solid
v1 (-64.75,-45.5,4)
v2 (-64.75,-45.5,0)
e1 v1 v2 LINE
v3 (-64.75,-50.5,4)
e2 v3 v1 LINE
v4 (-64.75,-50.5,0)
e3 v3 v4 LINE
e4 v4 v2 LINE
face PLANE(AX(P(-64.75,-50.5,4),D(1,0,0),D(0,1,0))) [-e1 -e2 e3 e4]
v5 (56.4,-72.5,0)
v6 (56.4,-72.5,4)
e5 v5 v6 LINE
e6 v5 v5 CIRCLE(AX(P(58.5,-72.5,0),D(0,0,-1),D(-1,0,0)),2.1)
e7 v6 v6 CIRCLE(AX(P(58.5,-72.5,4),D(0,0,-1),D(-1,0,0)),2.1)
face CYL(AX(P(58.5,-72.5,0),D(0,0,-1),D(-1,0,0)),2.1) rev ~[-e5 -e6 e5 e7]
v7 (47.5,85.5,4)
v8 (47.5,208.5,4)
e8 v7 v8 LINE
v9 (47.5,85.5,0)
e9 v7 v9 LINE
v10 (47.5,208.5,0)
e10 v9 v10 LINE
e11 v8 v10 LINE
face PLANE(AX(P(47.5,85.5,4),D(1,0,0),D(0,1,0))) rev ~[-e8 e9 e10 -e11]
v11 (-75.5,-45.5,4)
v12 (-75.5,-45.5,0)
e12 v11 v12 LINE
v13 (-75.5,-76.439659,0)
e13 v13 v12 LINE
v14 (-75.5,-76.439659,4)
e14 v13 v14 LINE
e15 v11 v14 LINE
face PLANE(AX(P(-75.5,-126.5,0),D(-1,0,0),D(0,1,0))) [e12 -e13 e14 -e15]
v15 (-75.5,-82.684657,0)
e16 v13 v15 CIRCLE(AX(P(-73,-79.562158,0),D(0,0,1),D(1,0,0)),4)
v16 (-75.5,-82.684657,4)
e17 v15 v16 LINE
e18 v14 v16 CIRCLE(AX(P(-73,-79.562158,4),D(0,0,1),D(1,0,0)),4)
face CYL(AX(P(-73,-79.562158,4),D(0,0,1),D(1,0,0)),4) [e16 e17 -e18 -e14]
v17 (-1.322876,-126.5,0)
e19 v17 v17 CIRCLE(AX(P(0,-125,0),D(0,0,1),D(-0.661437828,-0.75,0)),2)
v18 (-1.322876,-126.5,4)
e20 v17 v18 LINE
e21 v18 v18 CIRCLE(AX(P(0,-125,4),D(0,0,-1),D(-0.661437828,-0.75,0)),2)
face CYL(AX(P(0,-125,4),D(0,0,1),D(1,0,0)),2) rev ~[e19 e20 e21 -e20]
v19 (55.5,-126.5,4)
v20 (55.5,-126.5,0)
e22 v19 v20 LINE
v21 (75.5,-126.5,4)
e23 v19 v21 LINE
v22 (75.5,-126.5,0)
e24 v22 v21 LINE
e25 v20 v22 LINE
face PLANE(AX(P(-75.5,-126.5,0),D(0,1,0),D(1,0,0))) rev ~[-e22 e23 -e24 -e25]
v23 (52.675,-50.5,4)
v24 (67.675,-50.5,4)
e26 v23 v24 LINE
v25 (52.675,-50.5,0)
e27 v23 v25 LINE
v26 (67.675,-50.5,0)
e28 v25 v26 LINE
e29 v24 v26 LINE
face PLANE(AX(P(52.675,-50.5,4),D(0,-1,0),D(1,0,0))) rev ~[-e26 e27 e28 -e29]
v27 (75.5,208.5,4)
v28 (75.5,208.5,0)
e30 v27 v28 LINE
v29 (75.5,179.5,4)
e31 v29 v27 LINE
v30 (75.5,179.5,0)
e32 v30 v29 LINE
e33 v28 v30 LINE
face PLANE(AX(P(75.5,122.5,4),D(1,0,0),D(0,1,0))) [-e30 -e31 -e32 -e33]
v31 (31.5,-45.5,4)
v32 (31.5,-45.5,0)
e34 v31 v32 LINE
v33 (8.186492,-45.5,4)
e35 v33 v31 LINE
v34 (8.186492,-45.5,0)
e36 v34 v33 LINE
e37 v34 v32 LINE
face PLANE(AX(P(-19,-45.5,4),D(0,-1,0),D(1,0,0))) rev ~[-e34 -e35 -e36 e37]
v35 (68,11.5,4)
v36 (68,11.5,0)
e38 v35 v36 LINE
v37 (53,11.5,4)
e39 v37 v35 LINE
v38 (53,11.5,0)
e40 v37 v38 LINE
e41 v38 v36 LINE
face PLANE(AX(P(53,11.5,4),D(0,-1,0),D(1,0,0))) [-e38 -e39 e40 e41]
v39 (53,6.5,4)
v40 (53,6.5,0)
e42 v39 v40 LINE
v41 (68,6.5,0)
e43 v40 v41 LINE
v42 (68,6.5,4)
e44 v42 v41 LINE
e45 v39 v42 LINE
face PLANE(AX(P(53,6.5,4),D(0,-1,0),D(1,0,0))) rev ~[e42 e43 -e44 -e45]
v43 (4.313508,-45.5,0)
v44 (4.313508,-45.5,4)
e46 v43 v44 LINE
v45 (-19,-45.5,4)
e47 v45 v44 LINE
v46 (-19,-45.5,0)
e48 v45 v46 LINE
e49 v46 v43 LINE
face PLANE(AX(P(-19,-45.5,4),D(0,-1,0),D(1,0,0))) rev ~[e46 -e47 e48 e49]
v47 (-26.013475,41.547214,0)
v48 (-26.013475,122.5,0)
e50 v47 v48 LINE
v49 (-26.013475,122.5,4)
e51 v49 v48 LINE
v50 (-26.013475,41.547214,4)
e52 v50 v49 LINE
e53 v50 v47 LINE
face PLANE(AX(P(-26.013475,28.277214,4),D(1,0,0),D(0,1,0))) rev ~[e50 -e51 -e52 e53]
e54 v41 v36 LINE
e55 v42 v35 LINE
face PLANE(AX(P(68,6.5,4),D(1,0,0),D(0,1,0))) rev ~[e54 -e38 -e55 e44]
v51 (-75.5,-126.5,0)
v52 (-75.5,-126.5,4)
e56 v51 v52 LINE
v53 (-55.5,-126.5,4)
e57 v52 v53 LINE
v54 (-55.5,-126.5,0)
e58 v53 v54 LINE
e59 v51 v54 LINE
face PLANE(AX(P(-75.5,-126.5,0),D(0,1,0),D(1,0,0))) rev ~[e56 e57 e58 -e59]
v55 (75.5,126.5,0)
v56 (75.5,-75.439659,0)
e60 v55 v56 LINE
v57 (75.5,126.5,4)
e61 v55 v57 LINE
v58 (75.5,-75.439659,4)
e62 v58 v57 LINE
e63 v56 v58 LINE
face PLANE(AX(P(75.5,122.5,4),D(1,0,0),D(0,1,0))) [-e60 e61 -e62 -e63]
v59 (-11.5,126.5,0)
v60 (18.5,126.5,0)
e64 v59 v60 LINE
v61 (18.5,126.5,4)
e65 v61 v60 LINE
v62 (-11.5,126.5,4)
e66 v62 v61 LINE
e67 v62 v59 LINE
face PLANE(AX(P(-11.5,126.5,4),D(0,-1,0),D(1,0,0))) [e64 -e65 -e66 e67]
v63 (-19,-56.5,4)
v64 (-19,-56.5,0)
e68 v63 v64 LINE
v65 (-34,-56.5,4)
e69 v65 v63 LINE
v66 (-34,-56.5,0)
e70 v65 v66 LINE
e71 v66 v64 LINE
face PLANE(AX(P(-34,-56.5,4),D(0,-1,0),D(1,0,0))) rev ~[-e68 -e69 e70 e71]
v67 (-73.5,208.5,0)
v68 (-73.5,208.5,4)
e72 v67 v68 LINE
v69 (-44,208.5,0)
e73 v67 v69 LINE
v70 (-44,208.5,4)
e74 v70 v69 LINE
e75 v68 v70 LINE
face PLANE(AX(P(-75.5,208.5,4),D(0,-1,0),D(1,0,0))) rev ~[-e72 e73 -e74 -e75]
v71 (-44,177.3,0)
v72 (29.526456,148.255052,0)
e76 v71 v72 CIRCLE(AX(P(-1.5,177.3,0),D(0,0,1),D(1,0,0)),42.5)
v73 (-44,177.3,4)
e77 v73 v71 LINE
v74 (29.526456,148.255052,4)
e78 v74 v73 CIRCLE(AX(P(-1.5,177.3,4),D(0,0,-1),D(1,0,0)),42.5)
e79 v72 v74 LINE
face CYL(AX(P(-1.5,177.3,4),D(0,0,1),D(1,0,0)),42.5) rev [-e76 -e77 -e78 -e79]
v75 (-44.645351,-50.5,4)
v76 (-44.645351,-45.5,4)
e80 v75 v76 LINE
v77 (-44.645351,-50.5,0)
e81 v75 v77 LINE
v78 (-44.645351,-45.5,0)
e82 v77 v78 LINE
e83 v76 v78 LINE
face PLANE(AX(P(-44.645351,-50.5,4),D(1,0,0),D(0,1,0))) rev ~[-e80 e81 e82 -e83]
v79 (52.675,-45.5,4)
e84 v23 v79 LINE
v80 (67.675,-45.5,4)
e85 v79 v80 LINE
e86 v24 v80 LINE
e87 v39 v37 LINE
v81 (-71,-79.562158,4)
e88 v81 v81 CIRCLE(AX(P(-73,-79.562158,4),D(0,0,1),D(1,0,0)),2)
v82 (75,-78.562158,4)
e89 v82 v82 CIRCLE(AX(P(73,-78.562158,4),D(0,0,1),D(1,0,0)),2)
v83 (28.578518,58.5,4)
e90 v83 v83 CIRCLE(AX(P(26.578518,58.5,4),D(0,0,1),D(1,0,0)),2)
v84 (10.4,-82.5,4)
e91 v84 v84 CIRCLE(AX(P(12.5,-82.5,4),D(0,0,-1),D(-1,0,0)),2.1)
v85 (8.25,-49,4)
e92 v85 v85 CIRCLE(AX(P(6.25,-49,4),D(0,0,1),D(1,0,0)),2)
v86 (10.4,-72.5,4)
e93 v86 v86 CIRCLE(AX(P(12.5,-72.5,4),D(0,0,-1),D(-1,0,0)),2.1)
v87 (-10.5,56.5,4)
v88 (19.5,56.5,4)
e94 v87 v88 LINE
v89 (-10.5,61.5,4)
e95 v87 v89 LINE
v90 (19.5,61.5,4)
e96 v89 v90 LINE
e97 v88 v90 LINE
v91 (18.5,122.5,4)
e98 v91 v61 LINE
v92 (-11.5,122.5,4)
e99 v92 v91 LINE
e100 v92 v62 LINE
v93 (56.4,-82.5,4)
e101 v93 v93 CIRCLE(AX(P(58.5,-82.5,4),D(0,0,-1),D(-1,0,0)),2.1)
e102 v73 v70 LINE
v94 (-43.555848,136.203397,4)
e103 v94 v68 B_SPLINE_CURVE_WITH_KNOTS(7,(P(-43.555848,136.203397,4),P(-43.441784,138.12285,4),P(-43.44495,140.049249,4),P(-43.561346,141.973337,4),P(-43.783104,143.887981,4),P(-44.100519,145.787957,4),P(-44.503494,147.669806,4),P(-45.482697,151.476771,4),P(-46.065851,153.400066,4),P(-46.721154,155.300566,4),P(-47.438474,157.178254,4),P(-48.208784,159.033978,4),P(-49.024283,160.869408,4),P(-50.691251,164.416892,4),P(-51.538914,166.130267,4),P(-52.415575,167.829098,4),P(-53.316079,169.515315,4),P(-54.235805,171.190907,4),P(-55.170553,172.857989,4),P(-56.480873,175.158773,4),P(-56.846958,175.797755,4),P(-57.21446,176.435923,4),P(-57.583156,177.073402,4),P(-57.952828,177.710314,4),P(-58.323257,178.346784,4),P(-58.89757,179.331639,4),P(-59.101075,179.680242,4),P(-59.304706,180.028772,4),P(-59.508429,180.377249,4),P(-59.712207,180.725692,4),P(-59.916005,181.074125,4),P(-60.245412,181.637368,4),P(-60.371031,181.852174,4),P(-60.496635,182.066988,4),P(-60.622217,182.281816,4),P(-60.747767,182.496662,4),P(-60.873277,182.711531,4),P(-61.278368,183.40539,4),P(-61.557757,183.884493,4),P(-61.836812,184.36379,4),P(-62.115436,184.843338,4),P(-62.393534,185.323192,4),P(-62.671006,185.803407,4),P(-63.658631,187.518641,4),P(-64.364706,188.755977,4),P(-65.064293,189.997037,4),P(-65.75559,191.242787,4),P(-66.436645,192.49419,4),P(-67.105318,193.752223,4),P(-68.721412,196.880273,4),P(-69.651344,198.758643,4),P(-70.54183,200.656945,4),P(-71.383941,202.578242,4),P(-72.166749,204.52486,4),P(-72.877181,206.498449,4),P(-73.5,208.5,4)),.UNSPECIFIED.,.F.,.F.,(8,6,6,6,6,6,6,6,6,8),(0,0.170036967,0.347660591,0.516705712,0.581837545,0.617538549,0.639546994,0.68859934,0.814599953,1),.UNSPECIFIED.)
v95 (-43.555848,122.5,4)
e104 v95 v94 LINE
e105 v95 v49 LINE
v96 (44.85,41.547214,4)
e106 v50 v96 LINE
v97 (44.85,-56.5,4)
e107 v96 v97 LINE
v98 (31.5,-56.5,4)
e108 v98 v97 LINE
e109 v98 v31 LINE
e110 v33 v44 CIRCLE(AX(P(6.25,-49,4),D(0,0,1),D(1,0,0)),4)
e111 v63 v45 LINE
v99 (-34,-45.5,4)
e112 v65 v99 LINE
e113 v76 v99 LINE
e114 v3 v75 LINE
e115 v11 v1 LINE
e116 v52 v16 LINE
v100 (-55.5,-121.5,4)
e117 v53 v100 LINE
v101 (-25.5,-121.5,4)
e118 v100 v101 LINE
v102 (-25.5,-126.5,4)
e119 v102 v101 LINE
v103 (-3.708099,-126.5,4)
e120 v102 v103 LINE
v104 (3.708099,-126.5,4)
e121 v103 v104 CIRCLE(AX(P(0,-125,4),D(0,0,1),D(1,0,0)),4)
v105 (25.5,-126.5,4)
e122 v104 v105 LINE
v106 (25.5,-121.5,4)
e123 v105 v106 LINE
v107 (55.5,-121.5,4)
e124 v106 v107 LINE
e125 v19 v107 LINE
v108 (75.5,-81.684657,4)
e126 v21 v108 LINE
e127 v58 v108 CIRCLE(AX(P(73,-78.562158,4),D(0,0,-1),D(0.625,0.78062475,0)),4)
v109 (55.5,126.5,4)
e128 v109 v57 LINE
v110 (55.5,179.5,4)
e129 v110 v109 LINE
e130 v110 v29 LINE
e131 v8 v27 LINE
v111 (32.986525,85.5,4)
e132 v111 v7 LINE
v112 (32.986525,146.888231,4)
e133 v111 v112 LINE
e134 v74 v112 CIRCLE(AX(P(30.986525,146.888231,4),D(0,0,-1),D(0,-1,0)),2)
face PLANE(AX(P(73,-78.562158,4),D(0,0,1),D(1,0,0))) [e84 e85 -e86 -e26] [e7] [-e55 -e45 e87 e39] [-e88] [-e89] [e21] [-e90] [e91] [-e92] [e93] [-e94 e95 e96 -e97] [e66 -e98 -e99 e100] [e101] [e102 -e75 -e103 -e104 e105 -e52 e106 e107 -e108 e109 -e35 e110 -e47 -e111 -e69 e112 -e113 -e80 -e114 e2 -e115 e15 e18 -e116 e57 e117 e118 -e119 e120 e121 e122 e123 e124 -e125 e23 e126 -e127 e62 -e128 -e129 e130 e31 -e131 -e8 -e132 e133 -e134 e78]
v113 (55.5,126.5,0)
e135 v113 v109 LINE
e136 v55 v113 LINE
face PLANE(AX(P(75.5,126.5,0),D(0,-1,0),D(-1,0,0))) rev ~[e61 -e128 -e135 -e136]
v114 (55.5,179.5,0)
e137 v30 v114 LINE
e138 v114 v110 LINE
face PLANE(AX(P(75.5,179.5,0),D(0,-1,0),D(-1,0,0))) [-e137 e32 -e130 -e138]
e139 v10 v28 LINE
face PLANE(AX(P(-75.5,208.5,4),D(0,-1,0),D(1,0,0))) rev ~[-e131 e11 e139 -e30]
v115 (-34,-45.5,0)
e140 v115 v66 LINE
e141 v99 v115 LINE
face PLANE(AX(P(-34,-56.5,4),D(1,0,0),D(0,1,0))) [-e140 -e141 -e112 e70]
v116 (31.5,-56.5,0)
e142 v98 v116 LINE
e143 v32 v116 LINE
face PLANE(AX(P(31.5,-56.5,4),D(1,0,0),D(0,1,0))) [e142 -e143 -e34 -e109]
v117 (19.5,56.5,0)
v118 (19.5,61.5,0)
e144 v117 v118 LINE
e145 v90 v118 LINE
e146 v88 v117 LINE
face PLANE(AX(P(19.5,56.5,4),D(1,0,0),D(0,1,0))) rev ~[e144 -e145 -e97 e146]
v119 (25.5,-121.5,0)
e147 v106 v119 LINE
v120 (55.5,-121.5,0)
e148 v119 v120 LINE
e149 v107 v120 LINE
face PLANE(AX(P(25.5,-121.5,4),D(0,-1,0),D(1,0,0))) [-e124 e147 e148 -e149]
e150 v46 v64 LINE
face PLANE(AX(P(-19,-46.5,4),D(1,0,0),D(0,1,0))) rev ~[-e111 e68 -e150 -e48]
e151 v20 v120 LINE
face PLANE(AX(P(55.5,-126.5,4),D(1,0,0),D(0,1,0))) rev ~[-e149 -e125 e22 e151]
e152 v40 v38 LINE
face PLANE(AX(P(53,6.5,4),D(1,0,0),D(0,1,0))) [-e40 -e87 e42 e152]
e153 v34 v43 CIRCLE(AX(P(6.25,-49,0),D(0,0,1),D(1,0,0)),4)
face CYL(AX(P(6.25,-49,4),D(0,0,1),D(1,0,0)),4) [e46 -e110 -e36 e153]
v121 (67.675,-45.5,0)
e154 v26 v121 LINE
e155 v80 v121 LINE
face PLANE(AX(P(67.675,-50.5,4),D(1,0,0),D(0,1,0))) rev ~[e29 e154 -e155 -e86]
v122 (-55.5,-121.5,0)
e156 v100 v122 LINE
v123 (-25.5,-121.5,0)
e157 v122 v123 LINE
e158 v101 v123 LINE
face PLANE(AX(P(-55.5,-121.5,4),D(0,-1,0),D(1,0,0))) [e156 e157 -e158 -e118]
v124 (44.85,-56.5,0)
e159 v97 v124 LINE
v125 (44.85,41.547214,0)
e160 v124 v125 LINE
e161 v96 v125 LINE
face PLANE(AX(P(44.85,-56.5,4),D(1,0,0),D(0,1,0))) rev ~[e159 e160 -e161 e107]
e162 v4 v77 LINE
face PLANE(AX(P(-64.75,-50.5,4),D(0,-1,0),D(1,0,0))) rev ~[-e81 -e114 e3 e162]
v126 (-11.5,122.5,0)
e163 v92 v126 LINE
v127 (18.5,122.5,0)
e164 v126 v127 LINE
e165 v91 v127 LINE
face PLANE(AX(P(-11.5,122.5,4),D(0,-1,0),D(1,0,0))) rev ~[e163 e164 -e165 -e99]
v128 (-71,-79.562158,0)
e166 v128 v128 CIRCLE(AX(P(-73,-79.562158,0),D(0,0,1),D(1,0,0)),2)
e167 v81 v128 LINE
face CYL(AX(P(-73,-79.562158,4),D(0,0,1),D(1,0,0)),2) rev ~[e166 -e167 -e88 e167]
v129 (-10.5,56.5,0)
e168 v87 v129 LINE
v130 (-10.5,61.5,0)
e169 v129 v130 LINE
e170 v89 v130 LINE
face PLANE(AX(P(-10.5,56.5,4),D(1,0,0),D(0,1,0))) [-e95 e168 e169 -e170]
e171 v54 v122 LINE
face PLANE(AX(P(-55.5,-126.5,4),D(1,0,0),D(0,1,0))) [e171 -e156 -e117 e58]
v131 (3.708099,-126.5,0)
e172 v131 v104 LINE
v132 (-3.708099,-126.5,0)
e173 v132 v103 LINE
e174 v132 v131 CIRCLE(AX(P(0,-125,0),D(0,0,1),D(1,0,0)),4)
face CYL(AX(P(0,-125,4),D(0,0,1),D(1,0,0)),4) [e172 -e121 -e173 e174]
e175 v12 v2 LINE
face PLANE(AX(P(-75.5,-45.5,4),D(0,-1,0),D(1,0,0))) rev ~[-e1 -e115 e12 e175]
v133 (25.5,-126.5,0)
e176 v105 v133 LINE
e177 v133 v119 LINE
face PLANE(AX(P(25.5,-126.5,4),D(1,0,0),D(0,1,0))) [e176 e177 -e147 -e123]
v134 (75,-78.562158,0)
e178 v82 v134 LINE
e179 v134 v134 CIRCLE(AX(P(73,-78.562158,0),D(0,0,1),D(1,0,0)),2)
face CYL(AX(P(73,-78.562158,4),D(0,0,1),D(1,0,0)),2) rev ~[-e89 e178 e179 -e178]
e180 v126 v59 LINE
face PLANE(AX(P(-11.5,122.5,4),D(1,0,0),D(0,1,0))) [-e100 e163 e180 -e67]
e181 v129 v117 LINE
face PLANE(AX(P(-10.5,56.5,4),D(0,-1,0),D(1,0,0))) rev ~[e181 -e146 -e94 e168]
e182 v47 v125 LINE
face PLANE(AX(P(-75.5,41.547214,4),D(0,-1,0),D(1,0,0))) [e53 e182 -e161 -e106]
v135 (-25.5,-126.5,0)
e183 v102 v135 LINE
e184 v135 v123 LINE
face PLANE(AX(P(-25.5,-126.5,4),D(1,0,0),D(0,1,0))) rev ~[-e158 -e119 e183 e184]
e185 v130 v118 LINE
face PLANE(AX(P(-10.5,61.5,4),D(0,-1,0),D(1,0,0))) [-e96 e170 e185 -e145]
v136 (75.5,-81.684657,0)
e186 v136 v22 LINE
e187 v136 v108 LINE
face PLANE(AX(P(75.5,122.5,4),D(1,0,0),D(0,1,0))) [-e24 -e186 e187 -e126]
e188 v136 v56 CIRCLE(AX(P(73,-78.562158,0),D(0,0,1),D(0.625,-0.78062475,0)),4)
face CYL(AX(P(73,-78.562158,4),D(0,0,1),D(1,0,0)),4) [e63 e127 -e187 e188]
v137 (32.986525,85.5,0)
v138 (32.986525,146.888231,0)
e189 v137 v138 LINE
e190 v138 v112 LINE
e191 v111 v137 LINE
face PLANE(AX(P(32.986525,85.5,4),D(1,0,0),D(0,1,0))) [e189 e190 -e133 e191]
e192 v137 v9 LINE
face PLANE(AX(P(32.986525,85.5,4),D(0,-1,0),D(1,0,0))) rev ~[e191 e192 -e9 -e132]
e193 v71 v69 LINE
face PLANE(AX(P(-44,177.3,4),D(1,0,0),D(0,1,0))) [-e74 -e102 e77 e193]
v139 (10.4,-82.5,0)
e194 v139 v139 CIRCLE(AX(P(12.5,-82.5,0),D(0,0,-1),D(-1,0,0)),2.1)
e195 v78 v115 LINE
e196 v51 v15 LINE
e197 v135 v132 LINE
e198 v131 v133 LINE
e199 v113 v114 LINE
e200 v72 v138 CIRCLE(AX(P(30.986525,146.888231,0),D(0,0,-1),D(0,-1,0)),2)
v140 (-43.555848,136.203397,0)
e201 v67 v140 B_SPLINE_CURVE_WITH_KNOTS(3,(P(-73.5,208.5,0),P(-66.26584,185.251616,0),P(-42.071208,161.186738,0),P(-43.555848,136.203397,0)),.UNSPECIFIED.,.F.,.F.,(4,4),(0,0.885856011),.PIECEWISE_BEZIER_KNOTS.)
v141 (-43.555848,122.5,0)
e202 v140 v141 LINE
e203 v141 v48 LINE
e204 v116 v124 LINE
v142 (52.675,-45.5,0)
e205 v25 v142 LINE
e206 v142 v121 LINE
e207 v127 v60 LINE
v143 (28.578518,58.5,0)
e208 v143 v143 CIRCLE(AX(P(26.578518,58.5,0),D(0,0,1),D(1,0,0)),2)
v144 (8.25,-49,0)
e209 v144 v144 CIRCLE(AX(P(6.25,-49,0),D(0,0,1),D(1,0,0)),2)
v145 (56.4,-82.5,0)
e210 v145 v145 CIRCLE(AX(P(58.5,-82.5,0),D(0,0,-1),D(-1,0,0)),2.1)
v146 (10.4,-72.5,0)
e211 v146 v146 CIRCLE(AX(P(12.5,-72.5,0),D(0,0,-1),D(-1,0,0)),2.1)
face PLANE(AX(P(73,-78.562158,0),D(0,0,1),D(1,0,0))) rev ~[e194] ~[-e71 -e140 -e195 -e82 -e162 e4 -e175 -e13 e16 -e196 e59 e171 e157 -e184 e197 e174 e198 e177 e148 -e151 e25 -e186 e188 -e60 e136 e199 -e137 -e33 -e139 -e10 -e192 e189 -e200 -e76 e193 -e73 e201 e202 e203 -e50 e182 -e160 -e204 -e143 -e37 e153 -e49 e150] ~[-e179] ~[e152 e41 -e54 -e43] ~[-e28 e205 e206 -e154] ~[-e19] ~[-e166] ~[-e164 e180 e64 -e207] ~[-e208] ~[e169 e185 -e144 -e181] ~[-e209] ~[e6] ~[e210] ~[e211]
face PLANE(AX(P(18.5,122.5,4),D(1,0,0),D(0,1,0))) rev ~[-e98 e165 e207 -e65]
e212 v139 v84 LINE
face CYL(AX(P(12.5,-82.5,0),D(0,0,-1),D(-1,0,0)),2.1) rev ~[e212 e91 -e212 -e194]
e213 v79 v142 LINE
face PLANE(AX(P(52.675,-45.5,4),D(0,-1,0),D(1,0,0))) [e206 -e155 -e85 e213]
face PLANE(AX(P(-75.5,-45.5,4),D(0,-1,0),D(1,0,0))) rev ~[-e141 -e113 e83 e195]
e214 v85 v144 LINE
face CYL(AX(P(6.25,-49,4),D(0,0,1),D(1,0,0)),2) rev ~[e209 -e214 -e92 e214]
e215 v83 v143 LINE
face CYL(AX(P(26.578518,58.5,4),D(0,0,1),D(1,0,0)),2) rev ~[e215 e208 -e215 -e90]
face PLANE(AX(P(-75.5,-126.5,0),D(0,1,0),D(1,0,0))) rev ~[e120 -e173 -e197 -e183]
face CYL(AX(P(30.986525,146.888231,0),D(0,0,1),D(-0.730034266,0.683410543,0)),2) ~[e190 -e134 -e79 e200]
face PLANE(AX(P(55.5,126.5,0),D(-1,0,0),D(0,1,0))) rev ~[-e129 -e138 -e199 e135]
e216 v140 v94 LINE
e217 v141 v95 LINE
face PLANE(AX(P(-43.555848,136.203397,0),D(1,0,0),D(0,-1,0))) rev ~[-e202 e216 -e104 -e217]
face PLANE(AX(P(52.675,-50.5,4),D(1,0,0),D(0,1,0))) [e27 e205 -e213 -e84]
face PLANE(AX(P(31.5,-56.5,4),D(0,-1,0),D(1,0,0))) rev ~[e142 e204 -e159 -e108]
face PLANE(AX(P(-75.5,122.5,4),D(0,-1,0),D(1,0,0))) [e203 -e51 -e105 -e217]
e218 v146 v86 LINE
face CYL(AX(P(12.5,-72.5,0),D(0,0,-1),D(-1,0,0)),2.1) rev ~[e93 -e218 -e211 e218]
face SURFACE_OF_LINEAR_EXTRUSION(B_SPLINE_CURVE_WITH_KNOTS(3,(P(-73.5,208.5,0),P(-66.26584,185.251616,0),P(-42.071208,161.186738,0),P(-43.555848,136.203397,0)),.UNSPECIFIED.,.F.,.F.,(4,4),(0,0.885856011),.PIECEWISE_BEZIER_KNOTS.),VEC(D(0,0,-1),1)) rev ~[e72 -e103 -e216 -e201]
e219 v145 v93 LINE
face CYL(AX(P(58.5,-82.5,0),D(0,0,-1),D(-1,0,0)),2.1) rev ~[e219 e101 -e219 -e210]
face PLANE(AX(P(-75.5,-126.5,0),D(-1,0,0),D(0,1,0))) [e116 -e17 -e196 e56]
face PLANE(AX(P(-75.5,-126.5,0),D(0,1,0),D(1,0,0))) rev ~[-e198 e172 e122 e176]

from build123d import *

# Parameters (mm, degrees)
SKETCH1_W           = 151
SKETCH1_H           = 254
BOSS_EXTRUDE1_DEPTH = 4
SKETCH2_W           = 49.486524855
SKETCH2_H           = 99.222786378
CUT_EXTRUDE1_DEPTH  = 5
SKETCH4_W           = 120.35
SKETCH4_H           = 88.04721362
CUT_EXTRUDE3_DEPTH  = 5
SKETCH6_R           = 2
CUT_EXTRUDE5_DEPTH  = 10
SKETCH12_W          = 15
SKETCH12_H          = 10
SKETCH12_W_2        = 13.35
CUT_EXTRUDE8_DEPTH  = 10
SKETCH13_R          = 2
CUT_EXTRUDE9_DEPTH  = 5
SKETCH14_R          = 4
SKETCH14_R_2        = 2
BOSS_EXTRUDE2_DEPTH = 4
SKETCH15_R          = 2.1
CUT_EXTRUDE10_DEPTH = 10
SKETCH18_R          = 2
CUT_EXTRUDE12_DEPTH = 5
SKETCH19_R          = 4
SKETCH19_R_2        = 2
BOSS_EXTRUDE3_DEPTH = 4
SKETCH25_W          = 59.513475145
SKETCH25_H          = 4
CUT_EXTRUDE16_DEPTH = 10
SKETCH26_W          = 151
SKETCH26_H          = 86
BOSS_EXTRUDE4_DEPTH = 4
SKETCH27_W          = 42
SKETCH27_H          = 62
BOSS_EXTRUDE5_DEPTH = 4
CUT_EXTRUDE17_DEPTH = 5
SKETCH29_W          = 20
SKETCH29_H          = 53
CUT_EXTRUDE18_DEPTH = 10
SKETCH30_W          = 14.513475145
SKETCH30_H          = 123
CUT_EXTRUDE19_DEPTH = 10
CUT_EXTRUDE20_DEPTH = 10
FILLET1_R           = 2
SKETCH33_W          = 30
SKETCH33_H          = 4
CUT_EXTRUDE22_DEPTH = 10
SKETCH34_W          = 30
SKETCH34_H          = 5
SKETCH34_W_2        = 15
CUT_EXTRUDE23_DEPTH = 10
SKETCH35_W          = 50.5
SKETCH35_H          = 0.999999998
SKETCH35_W_2        = 41.5
BOSS_EXTRUDE6_DEPTH = 4
SKETCH36_W          = 20.104648663
SKETCH36_H          = 5
CUT_EXTRUDE24_DEPTH = 5
SKETCH37_R          = 2
CUT_EXTRUDE25_DEPTH = 5
SKETCH38_R          = 4
SKETCH38_R_2        = 2
BOSS_EXTRUDE7_DEPTH = 4
SKETCH39_R          = 2
CUT_EXTRUDE26_DEPTH = 10


with BuildPart() as part:
    # Sketch1 → Boss-Extrude1 (new body)
    with BuildSketch(Plane.XY):
        with Locations((0, 0.5)):
            Rectangle(SKETCH1_W, SKETCH1_H)
    extrude(amount=BOSS_EXTRUDE1_DEPTH)

    # Sketch2 → Cut-Extrude1 (cut)
    with BuildSketch(Plane.XY.offset(4)):
        with Locations((-50.756737573, 77.888606811)):
            Rectangle(SKETCH2_W, SKETCH2_H)
    extrude(amount=-CUT_EXTRUDE1_DEPTH, mode=Mode.SUBTRACT)

    # Sketch4 → Cut-Extrude3 (cut)
    with BuildSketch(Plane.XY.offset(4)):
        with Locations((-15.325, -2.476393188)):
            Rectangle(SKETCH4_W, SKETCH4_H)
    extrude(amount=-CUT_EXTRUDE3_DEPTH, mode=Mode.SUBTRACT)

    # Sketch6 → Cut-Extrude5 (cut)
    with BuildSketch(Plane.XY.offset(4)):
        with Locations((0, -125)):
            Circle(SKETCH6_R)
    extrude(amount=-CUT_EXTRUDE5_DEPTH, mode=Mode.SUBTRACT)

    # Sketch12 → Cut-Extrude8 (cut)
    with BuildSketch(Plane.XY.offset(4)):
        with Locations((-26.5, -51.499999998)):
            Rectangle(SKETCH12_W, SKETCH12_H)
        with Locations((38.175, -51.499999998)):
            Rectangle(SKETCH12_W_2, SKETCH12_H)
    extrude(amount=-CUT_EXTRUDE8_DEPTH, mode=Mode.SUBTRACT)

    # Sketch13 → Cut-Extrude9 (cut)
    with BuildSketch(Plane.XY.offset(4)):
        with Locations((6.25, -49)):
            Circle(SKETCH13_R)
    extrude(amount=-CUT_EXTRUDE9_DEPTH, mode=Mode.SUBTRACT)

    # Sketch14 → Boss-Extrude2 (add)
    # profile 1 of 2: a face of its own
    with BuildSketch(Plane.XY.offset(4)):
        with Locations((6.25, -49)):
            Circle(SKETCH14_R)
        with Locations((6.25, -49)):
            Circle(SKETCH14_R_2, mode=Mode.SUBTRACT)
    # profile 2 of 2: a face of its own
    with BuildSketch(Plane.XY.offset(4)):
        with Locations((0, -125)):
            Circle(SKETCH14_R)
        with Locations((0, -125)):
            Circle(SKETCH14_R_2, mode=Mode.SUBTRACT)
    extrude(amount=-BOSS_EXTRUDE2_DEPTH)

    # Sketch15 → Cut-Extrude10 (cut)
    with BuildSketch(Plane(origin=(0, 0, 0), x_dir=(-1, 0, 0), z_dir=(0, 0, -1))):
        with Locations((-58.5, -72.5)):
            Circle(SKETCH15_R)
        with Locations((-58.5, -82.5)):
            Circle(SKETCH15_R)
        with Locations((-12.5, -72.5)):
            Circle(SKETCH15_R)
        with Locations((-12.5, -82.5)):
            Circle(SKETCH15_R)
    extrude(amount=-CUT_EXTRUDE10_DEPTH, mode=Mode.SUBTRACT)

    # Sketch18 → Cut-Extrude12 (cut)
    with BuildSketch(Plane.XY.offset(4)):
        with Locations((-73, -79.562158061)):
            Circle(SKETCH18_R)
    extrude(amount=-CUT_EXTRUDE12_DEPTH, mode=Mode.SUBTRACT)

    # Sketch19 → Boss-Extrude3 (add)
    with BuildSketch(Plane.XY.offset(4)):
        with Locations((-73, -79.562158061)):
            Circle(SKETCH19_R)
        with Locations((-73, -79.562158061)):
            Circle(SKETCH19_R_2, mode=Mode.SUBTRACT)
    extrude(amount=-BOSS_EXTRUDE3_DEPTH)

    # Sketch25 → Cut-Extrude16 (cut)
    with BuildSketch(Plane.XY.offset(4)):
        with Locations((3.743262427, 124.5)):
            Rectangle(SKETCH25_W, SKETCH25_H)
    extrude(amount=-CUT_EXTRUDE16_DEPTH, mode=Mode.SUBTRACT)

    # Sketch26 → Boss-Extrude4 (add)
    with BuildSketch(Plane.XY.offset(4)):
        with Locations((0, 165.5)):
            Rectangle(SKETCH26_W, SKETCH26_H)
    extrude(amount=-BOSS_EXTRUDE4_DEPTH)

    # Sketch27 → Boss-Extrude5 (add)
    with BuildSketch(Plane.XY.offset(4)):
        with Locations((54.5, 91.5)):
            Rectangle(SKETCH27_W, SKETCH27_H)
    extrude(amount=-BOSS_EXTRUDE5_DEPTH)

    # Sketch28 → Cut-Extrude17 (cut)
    with BuildSketch(Plane(origin=(0, 0, 0), x_dir=(-1, 0, 0), z_dir=(0, 0, -1))):
        with BuildLine():
            Line((43.55584756, 136.203397333), (43.55584756, 122.5))
            Line((43.55584756, 122.5), (75.5, 122.5))
            Line((75.5, 122.5), (75.5, 208.5))
            Line((75.5, 208.5), (73.5, 208.5))
            add(Edge.make_bspline(
                [(73.5, 208.5), (66.265840294, 185.251616354), (42.071208011, 161.186737721), (43.55584756, 136.203397333)],
                knots=[0, 0, 0, 0, 0.885856011, 0.885856011, 0.885856011, 0.885856011], degree=3))
        make_face()
    extrude(amount=-CUT_EXTRUDE17_DEPTH, mode=Mode.SUBTRACT)

    # Sketch29 → Cut-Extrude18 (cut)
    with BuildSketch(Plane(origin=(0, 0, 0), x_dir=(-1, 0, 0), z_dir=(0, 0, -1))):
        with Locations((-65.5, 153)):
            Rectangle(SKETCH29_W, SKETCH29_H)
    extrude(amount=-CUT_EXTRUDE18_DEPTH, mode=Mode.SUBTRACT)

    # Sketch30 → Cut-Extrude19 (cut)
    with BuildSketch(Plane.XY.offset(4)):
        with Locations((40.243262427, 147)):
            Rectangle(SKETCH30_W, SKETCH30_H)
    extrude(amount=-CUT_EXTRUDE19_DEPTH, mode=Mode.SUBTRACT)

    # Sketch31 → Cut-Extrude20 (cut)
    with BuildSketch(Plane.XY.offset(4)):
        with BuildLine():
            Line((-44, 177.3), (-44, 208.5))
            Line((-44, 208.5), (41, 208.5))
            Line((41, 208.5), (41, 177.3))
            ThreePointArc((41, 177.3), (-1.5, 134.8), (-44, 177.3))
        make_face()
    extrude(amount=-CUT_EXTRUDE20_DEPTH, mode=Mode.SUBTRACT)

    # Fillet1
    fillet1_edges = [part.edges().sort_by_distance(p)[0] for p in [
        (32.986524855, 152.461932373, 2),
    ]]
    fillet(fillet1_edges, radius=FILLET1_R)

    # Sketch33 → Cut-Extrude22 (cut)
    with BuildSketch(Plane.XY.offset(4)):
        with Locations((3.5, 124.5)):
            Rectangle(SKETCH33_W, SKETCH33_H)
    extrude(amount=-CUT_EXTRUDE22_DEPTH, mode=Mode.SUBTRACT)

    # Sketch34 → Cut-Extrude23 (cut)
    with BuildSketch(Plane.XY.offset(4)):
        with Locations((40.5, -124)):
            Rectangle(SKETCH34_W, SKETCH34_H)
        with Locations((-40.5, -124)):
            Rectangle(SKETCH34_W, SKETCH34_H)
        with Locations((60.175, -48)):
            Rectangle(SKETCH34_W_2, SKETCH34_H)
        with Locations((60.5, 9)):
            Rectangle(SKETCH34_W_2, SKETCH34_H)
        with Locations((4.5, 59)):
            Rectangle(SKETCH34_W, SKETCH34_H)
    extrude(amount=-CUT_EXTRUDE23_DEPTH, mode=Mode.SUBTRACT)

    # Sketch35 → Boss-Extrude6 (add)
    with BuildSketch(Plane.XY.offset(4)):
        with Locations((6.25, -45.999999999)):
            Rectangle(SKETCH35_W, SKETCH35_H)
        with Locations((-54.75, -45.999999999)):
            Rectangle(SKETCH35_W_2, SKETCH35_H)
    extrude(amount=-BOSS_EXTRUDE6_DEPTH)

    # Sketch36 → Cut-Extrude24 (cut)
    with BuildSketch(Plane.XY.offset(4)):
        with Locations((-54.697675668, -48)):
            Rectangle(SKETCH36_W, SKETCH36_H)
    extrude(amount=-CUT_EXTRUDE24_DEPTH, mode=Mode.SUBTRACT)

    # Sketch37 → Cut-Extrude25 (cut)
    with BuildSketch(Plane.XY.offset(4)):
        with Locations((73, -78.562158061)):
            Circle(SKETCH37_R)
    extrude(amount=-CUT_EXTRUDE25_DEPTH, mode=Mode.SUBTRACT)

    # Sketch38 → Boss-Extrude7 (add)
    with BuildSketch(Plane.XY.offset(4)):
        with Locations((73, -78.562158061)):
            Circle(SKETCH38_R)
        with Locations((73, -78.562158061)):
            Circle(SKETCH38_R_2, mode=Mode.SUBTRACT)
    extrude(amount=-BOSS_EXTRUDE7_DEPTH)

    # Sketch39 → Cut-Extrude26 (cut)
    with BuildSketch(Plane.XY.offset(4)):
        with Locations((26.57851787, 58.5)):
            Circle(SKETCH39_R)
    extrude(amount=-CUT_EXTRUDE26_DEPTH, mode=Mode.SUBTRACT)


solid = part.part
